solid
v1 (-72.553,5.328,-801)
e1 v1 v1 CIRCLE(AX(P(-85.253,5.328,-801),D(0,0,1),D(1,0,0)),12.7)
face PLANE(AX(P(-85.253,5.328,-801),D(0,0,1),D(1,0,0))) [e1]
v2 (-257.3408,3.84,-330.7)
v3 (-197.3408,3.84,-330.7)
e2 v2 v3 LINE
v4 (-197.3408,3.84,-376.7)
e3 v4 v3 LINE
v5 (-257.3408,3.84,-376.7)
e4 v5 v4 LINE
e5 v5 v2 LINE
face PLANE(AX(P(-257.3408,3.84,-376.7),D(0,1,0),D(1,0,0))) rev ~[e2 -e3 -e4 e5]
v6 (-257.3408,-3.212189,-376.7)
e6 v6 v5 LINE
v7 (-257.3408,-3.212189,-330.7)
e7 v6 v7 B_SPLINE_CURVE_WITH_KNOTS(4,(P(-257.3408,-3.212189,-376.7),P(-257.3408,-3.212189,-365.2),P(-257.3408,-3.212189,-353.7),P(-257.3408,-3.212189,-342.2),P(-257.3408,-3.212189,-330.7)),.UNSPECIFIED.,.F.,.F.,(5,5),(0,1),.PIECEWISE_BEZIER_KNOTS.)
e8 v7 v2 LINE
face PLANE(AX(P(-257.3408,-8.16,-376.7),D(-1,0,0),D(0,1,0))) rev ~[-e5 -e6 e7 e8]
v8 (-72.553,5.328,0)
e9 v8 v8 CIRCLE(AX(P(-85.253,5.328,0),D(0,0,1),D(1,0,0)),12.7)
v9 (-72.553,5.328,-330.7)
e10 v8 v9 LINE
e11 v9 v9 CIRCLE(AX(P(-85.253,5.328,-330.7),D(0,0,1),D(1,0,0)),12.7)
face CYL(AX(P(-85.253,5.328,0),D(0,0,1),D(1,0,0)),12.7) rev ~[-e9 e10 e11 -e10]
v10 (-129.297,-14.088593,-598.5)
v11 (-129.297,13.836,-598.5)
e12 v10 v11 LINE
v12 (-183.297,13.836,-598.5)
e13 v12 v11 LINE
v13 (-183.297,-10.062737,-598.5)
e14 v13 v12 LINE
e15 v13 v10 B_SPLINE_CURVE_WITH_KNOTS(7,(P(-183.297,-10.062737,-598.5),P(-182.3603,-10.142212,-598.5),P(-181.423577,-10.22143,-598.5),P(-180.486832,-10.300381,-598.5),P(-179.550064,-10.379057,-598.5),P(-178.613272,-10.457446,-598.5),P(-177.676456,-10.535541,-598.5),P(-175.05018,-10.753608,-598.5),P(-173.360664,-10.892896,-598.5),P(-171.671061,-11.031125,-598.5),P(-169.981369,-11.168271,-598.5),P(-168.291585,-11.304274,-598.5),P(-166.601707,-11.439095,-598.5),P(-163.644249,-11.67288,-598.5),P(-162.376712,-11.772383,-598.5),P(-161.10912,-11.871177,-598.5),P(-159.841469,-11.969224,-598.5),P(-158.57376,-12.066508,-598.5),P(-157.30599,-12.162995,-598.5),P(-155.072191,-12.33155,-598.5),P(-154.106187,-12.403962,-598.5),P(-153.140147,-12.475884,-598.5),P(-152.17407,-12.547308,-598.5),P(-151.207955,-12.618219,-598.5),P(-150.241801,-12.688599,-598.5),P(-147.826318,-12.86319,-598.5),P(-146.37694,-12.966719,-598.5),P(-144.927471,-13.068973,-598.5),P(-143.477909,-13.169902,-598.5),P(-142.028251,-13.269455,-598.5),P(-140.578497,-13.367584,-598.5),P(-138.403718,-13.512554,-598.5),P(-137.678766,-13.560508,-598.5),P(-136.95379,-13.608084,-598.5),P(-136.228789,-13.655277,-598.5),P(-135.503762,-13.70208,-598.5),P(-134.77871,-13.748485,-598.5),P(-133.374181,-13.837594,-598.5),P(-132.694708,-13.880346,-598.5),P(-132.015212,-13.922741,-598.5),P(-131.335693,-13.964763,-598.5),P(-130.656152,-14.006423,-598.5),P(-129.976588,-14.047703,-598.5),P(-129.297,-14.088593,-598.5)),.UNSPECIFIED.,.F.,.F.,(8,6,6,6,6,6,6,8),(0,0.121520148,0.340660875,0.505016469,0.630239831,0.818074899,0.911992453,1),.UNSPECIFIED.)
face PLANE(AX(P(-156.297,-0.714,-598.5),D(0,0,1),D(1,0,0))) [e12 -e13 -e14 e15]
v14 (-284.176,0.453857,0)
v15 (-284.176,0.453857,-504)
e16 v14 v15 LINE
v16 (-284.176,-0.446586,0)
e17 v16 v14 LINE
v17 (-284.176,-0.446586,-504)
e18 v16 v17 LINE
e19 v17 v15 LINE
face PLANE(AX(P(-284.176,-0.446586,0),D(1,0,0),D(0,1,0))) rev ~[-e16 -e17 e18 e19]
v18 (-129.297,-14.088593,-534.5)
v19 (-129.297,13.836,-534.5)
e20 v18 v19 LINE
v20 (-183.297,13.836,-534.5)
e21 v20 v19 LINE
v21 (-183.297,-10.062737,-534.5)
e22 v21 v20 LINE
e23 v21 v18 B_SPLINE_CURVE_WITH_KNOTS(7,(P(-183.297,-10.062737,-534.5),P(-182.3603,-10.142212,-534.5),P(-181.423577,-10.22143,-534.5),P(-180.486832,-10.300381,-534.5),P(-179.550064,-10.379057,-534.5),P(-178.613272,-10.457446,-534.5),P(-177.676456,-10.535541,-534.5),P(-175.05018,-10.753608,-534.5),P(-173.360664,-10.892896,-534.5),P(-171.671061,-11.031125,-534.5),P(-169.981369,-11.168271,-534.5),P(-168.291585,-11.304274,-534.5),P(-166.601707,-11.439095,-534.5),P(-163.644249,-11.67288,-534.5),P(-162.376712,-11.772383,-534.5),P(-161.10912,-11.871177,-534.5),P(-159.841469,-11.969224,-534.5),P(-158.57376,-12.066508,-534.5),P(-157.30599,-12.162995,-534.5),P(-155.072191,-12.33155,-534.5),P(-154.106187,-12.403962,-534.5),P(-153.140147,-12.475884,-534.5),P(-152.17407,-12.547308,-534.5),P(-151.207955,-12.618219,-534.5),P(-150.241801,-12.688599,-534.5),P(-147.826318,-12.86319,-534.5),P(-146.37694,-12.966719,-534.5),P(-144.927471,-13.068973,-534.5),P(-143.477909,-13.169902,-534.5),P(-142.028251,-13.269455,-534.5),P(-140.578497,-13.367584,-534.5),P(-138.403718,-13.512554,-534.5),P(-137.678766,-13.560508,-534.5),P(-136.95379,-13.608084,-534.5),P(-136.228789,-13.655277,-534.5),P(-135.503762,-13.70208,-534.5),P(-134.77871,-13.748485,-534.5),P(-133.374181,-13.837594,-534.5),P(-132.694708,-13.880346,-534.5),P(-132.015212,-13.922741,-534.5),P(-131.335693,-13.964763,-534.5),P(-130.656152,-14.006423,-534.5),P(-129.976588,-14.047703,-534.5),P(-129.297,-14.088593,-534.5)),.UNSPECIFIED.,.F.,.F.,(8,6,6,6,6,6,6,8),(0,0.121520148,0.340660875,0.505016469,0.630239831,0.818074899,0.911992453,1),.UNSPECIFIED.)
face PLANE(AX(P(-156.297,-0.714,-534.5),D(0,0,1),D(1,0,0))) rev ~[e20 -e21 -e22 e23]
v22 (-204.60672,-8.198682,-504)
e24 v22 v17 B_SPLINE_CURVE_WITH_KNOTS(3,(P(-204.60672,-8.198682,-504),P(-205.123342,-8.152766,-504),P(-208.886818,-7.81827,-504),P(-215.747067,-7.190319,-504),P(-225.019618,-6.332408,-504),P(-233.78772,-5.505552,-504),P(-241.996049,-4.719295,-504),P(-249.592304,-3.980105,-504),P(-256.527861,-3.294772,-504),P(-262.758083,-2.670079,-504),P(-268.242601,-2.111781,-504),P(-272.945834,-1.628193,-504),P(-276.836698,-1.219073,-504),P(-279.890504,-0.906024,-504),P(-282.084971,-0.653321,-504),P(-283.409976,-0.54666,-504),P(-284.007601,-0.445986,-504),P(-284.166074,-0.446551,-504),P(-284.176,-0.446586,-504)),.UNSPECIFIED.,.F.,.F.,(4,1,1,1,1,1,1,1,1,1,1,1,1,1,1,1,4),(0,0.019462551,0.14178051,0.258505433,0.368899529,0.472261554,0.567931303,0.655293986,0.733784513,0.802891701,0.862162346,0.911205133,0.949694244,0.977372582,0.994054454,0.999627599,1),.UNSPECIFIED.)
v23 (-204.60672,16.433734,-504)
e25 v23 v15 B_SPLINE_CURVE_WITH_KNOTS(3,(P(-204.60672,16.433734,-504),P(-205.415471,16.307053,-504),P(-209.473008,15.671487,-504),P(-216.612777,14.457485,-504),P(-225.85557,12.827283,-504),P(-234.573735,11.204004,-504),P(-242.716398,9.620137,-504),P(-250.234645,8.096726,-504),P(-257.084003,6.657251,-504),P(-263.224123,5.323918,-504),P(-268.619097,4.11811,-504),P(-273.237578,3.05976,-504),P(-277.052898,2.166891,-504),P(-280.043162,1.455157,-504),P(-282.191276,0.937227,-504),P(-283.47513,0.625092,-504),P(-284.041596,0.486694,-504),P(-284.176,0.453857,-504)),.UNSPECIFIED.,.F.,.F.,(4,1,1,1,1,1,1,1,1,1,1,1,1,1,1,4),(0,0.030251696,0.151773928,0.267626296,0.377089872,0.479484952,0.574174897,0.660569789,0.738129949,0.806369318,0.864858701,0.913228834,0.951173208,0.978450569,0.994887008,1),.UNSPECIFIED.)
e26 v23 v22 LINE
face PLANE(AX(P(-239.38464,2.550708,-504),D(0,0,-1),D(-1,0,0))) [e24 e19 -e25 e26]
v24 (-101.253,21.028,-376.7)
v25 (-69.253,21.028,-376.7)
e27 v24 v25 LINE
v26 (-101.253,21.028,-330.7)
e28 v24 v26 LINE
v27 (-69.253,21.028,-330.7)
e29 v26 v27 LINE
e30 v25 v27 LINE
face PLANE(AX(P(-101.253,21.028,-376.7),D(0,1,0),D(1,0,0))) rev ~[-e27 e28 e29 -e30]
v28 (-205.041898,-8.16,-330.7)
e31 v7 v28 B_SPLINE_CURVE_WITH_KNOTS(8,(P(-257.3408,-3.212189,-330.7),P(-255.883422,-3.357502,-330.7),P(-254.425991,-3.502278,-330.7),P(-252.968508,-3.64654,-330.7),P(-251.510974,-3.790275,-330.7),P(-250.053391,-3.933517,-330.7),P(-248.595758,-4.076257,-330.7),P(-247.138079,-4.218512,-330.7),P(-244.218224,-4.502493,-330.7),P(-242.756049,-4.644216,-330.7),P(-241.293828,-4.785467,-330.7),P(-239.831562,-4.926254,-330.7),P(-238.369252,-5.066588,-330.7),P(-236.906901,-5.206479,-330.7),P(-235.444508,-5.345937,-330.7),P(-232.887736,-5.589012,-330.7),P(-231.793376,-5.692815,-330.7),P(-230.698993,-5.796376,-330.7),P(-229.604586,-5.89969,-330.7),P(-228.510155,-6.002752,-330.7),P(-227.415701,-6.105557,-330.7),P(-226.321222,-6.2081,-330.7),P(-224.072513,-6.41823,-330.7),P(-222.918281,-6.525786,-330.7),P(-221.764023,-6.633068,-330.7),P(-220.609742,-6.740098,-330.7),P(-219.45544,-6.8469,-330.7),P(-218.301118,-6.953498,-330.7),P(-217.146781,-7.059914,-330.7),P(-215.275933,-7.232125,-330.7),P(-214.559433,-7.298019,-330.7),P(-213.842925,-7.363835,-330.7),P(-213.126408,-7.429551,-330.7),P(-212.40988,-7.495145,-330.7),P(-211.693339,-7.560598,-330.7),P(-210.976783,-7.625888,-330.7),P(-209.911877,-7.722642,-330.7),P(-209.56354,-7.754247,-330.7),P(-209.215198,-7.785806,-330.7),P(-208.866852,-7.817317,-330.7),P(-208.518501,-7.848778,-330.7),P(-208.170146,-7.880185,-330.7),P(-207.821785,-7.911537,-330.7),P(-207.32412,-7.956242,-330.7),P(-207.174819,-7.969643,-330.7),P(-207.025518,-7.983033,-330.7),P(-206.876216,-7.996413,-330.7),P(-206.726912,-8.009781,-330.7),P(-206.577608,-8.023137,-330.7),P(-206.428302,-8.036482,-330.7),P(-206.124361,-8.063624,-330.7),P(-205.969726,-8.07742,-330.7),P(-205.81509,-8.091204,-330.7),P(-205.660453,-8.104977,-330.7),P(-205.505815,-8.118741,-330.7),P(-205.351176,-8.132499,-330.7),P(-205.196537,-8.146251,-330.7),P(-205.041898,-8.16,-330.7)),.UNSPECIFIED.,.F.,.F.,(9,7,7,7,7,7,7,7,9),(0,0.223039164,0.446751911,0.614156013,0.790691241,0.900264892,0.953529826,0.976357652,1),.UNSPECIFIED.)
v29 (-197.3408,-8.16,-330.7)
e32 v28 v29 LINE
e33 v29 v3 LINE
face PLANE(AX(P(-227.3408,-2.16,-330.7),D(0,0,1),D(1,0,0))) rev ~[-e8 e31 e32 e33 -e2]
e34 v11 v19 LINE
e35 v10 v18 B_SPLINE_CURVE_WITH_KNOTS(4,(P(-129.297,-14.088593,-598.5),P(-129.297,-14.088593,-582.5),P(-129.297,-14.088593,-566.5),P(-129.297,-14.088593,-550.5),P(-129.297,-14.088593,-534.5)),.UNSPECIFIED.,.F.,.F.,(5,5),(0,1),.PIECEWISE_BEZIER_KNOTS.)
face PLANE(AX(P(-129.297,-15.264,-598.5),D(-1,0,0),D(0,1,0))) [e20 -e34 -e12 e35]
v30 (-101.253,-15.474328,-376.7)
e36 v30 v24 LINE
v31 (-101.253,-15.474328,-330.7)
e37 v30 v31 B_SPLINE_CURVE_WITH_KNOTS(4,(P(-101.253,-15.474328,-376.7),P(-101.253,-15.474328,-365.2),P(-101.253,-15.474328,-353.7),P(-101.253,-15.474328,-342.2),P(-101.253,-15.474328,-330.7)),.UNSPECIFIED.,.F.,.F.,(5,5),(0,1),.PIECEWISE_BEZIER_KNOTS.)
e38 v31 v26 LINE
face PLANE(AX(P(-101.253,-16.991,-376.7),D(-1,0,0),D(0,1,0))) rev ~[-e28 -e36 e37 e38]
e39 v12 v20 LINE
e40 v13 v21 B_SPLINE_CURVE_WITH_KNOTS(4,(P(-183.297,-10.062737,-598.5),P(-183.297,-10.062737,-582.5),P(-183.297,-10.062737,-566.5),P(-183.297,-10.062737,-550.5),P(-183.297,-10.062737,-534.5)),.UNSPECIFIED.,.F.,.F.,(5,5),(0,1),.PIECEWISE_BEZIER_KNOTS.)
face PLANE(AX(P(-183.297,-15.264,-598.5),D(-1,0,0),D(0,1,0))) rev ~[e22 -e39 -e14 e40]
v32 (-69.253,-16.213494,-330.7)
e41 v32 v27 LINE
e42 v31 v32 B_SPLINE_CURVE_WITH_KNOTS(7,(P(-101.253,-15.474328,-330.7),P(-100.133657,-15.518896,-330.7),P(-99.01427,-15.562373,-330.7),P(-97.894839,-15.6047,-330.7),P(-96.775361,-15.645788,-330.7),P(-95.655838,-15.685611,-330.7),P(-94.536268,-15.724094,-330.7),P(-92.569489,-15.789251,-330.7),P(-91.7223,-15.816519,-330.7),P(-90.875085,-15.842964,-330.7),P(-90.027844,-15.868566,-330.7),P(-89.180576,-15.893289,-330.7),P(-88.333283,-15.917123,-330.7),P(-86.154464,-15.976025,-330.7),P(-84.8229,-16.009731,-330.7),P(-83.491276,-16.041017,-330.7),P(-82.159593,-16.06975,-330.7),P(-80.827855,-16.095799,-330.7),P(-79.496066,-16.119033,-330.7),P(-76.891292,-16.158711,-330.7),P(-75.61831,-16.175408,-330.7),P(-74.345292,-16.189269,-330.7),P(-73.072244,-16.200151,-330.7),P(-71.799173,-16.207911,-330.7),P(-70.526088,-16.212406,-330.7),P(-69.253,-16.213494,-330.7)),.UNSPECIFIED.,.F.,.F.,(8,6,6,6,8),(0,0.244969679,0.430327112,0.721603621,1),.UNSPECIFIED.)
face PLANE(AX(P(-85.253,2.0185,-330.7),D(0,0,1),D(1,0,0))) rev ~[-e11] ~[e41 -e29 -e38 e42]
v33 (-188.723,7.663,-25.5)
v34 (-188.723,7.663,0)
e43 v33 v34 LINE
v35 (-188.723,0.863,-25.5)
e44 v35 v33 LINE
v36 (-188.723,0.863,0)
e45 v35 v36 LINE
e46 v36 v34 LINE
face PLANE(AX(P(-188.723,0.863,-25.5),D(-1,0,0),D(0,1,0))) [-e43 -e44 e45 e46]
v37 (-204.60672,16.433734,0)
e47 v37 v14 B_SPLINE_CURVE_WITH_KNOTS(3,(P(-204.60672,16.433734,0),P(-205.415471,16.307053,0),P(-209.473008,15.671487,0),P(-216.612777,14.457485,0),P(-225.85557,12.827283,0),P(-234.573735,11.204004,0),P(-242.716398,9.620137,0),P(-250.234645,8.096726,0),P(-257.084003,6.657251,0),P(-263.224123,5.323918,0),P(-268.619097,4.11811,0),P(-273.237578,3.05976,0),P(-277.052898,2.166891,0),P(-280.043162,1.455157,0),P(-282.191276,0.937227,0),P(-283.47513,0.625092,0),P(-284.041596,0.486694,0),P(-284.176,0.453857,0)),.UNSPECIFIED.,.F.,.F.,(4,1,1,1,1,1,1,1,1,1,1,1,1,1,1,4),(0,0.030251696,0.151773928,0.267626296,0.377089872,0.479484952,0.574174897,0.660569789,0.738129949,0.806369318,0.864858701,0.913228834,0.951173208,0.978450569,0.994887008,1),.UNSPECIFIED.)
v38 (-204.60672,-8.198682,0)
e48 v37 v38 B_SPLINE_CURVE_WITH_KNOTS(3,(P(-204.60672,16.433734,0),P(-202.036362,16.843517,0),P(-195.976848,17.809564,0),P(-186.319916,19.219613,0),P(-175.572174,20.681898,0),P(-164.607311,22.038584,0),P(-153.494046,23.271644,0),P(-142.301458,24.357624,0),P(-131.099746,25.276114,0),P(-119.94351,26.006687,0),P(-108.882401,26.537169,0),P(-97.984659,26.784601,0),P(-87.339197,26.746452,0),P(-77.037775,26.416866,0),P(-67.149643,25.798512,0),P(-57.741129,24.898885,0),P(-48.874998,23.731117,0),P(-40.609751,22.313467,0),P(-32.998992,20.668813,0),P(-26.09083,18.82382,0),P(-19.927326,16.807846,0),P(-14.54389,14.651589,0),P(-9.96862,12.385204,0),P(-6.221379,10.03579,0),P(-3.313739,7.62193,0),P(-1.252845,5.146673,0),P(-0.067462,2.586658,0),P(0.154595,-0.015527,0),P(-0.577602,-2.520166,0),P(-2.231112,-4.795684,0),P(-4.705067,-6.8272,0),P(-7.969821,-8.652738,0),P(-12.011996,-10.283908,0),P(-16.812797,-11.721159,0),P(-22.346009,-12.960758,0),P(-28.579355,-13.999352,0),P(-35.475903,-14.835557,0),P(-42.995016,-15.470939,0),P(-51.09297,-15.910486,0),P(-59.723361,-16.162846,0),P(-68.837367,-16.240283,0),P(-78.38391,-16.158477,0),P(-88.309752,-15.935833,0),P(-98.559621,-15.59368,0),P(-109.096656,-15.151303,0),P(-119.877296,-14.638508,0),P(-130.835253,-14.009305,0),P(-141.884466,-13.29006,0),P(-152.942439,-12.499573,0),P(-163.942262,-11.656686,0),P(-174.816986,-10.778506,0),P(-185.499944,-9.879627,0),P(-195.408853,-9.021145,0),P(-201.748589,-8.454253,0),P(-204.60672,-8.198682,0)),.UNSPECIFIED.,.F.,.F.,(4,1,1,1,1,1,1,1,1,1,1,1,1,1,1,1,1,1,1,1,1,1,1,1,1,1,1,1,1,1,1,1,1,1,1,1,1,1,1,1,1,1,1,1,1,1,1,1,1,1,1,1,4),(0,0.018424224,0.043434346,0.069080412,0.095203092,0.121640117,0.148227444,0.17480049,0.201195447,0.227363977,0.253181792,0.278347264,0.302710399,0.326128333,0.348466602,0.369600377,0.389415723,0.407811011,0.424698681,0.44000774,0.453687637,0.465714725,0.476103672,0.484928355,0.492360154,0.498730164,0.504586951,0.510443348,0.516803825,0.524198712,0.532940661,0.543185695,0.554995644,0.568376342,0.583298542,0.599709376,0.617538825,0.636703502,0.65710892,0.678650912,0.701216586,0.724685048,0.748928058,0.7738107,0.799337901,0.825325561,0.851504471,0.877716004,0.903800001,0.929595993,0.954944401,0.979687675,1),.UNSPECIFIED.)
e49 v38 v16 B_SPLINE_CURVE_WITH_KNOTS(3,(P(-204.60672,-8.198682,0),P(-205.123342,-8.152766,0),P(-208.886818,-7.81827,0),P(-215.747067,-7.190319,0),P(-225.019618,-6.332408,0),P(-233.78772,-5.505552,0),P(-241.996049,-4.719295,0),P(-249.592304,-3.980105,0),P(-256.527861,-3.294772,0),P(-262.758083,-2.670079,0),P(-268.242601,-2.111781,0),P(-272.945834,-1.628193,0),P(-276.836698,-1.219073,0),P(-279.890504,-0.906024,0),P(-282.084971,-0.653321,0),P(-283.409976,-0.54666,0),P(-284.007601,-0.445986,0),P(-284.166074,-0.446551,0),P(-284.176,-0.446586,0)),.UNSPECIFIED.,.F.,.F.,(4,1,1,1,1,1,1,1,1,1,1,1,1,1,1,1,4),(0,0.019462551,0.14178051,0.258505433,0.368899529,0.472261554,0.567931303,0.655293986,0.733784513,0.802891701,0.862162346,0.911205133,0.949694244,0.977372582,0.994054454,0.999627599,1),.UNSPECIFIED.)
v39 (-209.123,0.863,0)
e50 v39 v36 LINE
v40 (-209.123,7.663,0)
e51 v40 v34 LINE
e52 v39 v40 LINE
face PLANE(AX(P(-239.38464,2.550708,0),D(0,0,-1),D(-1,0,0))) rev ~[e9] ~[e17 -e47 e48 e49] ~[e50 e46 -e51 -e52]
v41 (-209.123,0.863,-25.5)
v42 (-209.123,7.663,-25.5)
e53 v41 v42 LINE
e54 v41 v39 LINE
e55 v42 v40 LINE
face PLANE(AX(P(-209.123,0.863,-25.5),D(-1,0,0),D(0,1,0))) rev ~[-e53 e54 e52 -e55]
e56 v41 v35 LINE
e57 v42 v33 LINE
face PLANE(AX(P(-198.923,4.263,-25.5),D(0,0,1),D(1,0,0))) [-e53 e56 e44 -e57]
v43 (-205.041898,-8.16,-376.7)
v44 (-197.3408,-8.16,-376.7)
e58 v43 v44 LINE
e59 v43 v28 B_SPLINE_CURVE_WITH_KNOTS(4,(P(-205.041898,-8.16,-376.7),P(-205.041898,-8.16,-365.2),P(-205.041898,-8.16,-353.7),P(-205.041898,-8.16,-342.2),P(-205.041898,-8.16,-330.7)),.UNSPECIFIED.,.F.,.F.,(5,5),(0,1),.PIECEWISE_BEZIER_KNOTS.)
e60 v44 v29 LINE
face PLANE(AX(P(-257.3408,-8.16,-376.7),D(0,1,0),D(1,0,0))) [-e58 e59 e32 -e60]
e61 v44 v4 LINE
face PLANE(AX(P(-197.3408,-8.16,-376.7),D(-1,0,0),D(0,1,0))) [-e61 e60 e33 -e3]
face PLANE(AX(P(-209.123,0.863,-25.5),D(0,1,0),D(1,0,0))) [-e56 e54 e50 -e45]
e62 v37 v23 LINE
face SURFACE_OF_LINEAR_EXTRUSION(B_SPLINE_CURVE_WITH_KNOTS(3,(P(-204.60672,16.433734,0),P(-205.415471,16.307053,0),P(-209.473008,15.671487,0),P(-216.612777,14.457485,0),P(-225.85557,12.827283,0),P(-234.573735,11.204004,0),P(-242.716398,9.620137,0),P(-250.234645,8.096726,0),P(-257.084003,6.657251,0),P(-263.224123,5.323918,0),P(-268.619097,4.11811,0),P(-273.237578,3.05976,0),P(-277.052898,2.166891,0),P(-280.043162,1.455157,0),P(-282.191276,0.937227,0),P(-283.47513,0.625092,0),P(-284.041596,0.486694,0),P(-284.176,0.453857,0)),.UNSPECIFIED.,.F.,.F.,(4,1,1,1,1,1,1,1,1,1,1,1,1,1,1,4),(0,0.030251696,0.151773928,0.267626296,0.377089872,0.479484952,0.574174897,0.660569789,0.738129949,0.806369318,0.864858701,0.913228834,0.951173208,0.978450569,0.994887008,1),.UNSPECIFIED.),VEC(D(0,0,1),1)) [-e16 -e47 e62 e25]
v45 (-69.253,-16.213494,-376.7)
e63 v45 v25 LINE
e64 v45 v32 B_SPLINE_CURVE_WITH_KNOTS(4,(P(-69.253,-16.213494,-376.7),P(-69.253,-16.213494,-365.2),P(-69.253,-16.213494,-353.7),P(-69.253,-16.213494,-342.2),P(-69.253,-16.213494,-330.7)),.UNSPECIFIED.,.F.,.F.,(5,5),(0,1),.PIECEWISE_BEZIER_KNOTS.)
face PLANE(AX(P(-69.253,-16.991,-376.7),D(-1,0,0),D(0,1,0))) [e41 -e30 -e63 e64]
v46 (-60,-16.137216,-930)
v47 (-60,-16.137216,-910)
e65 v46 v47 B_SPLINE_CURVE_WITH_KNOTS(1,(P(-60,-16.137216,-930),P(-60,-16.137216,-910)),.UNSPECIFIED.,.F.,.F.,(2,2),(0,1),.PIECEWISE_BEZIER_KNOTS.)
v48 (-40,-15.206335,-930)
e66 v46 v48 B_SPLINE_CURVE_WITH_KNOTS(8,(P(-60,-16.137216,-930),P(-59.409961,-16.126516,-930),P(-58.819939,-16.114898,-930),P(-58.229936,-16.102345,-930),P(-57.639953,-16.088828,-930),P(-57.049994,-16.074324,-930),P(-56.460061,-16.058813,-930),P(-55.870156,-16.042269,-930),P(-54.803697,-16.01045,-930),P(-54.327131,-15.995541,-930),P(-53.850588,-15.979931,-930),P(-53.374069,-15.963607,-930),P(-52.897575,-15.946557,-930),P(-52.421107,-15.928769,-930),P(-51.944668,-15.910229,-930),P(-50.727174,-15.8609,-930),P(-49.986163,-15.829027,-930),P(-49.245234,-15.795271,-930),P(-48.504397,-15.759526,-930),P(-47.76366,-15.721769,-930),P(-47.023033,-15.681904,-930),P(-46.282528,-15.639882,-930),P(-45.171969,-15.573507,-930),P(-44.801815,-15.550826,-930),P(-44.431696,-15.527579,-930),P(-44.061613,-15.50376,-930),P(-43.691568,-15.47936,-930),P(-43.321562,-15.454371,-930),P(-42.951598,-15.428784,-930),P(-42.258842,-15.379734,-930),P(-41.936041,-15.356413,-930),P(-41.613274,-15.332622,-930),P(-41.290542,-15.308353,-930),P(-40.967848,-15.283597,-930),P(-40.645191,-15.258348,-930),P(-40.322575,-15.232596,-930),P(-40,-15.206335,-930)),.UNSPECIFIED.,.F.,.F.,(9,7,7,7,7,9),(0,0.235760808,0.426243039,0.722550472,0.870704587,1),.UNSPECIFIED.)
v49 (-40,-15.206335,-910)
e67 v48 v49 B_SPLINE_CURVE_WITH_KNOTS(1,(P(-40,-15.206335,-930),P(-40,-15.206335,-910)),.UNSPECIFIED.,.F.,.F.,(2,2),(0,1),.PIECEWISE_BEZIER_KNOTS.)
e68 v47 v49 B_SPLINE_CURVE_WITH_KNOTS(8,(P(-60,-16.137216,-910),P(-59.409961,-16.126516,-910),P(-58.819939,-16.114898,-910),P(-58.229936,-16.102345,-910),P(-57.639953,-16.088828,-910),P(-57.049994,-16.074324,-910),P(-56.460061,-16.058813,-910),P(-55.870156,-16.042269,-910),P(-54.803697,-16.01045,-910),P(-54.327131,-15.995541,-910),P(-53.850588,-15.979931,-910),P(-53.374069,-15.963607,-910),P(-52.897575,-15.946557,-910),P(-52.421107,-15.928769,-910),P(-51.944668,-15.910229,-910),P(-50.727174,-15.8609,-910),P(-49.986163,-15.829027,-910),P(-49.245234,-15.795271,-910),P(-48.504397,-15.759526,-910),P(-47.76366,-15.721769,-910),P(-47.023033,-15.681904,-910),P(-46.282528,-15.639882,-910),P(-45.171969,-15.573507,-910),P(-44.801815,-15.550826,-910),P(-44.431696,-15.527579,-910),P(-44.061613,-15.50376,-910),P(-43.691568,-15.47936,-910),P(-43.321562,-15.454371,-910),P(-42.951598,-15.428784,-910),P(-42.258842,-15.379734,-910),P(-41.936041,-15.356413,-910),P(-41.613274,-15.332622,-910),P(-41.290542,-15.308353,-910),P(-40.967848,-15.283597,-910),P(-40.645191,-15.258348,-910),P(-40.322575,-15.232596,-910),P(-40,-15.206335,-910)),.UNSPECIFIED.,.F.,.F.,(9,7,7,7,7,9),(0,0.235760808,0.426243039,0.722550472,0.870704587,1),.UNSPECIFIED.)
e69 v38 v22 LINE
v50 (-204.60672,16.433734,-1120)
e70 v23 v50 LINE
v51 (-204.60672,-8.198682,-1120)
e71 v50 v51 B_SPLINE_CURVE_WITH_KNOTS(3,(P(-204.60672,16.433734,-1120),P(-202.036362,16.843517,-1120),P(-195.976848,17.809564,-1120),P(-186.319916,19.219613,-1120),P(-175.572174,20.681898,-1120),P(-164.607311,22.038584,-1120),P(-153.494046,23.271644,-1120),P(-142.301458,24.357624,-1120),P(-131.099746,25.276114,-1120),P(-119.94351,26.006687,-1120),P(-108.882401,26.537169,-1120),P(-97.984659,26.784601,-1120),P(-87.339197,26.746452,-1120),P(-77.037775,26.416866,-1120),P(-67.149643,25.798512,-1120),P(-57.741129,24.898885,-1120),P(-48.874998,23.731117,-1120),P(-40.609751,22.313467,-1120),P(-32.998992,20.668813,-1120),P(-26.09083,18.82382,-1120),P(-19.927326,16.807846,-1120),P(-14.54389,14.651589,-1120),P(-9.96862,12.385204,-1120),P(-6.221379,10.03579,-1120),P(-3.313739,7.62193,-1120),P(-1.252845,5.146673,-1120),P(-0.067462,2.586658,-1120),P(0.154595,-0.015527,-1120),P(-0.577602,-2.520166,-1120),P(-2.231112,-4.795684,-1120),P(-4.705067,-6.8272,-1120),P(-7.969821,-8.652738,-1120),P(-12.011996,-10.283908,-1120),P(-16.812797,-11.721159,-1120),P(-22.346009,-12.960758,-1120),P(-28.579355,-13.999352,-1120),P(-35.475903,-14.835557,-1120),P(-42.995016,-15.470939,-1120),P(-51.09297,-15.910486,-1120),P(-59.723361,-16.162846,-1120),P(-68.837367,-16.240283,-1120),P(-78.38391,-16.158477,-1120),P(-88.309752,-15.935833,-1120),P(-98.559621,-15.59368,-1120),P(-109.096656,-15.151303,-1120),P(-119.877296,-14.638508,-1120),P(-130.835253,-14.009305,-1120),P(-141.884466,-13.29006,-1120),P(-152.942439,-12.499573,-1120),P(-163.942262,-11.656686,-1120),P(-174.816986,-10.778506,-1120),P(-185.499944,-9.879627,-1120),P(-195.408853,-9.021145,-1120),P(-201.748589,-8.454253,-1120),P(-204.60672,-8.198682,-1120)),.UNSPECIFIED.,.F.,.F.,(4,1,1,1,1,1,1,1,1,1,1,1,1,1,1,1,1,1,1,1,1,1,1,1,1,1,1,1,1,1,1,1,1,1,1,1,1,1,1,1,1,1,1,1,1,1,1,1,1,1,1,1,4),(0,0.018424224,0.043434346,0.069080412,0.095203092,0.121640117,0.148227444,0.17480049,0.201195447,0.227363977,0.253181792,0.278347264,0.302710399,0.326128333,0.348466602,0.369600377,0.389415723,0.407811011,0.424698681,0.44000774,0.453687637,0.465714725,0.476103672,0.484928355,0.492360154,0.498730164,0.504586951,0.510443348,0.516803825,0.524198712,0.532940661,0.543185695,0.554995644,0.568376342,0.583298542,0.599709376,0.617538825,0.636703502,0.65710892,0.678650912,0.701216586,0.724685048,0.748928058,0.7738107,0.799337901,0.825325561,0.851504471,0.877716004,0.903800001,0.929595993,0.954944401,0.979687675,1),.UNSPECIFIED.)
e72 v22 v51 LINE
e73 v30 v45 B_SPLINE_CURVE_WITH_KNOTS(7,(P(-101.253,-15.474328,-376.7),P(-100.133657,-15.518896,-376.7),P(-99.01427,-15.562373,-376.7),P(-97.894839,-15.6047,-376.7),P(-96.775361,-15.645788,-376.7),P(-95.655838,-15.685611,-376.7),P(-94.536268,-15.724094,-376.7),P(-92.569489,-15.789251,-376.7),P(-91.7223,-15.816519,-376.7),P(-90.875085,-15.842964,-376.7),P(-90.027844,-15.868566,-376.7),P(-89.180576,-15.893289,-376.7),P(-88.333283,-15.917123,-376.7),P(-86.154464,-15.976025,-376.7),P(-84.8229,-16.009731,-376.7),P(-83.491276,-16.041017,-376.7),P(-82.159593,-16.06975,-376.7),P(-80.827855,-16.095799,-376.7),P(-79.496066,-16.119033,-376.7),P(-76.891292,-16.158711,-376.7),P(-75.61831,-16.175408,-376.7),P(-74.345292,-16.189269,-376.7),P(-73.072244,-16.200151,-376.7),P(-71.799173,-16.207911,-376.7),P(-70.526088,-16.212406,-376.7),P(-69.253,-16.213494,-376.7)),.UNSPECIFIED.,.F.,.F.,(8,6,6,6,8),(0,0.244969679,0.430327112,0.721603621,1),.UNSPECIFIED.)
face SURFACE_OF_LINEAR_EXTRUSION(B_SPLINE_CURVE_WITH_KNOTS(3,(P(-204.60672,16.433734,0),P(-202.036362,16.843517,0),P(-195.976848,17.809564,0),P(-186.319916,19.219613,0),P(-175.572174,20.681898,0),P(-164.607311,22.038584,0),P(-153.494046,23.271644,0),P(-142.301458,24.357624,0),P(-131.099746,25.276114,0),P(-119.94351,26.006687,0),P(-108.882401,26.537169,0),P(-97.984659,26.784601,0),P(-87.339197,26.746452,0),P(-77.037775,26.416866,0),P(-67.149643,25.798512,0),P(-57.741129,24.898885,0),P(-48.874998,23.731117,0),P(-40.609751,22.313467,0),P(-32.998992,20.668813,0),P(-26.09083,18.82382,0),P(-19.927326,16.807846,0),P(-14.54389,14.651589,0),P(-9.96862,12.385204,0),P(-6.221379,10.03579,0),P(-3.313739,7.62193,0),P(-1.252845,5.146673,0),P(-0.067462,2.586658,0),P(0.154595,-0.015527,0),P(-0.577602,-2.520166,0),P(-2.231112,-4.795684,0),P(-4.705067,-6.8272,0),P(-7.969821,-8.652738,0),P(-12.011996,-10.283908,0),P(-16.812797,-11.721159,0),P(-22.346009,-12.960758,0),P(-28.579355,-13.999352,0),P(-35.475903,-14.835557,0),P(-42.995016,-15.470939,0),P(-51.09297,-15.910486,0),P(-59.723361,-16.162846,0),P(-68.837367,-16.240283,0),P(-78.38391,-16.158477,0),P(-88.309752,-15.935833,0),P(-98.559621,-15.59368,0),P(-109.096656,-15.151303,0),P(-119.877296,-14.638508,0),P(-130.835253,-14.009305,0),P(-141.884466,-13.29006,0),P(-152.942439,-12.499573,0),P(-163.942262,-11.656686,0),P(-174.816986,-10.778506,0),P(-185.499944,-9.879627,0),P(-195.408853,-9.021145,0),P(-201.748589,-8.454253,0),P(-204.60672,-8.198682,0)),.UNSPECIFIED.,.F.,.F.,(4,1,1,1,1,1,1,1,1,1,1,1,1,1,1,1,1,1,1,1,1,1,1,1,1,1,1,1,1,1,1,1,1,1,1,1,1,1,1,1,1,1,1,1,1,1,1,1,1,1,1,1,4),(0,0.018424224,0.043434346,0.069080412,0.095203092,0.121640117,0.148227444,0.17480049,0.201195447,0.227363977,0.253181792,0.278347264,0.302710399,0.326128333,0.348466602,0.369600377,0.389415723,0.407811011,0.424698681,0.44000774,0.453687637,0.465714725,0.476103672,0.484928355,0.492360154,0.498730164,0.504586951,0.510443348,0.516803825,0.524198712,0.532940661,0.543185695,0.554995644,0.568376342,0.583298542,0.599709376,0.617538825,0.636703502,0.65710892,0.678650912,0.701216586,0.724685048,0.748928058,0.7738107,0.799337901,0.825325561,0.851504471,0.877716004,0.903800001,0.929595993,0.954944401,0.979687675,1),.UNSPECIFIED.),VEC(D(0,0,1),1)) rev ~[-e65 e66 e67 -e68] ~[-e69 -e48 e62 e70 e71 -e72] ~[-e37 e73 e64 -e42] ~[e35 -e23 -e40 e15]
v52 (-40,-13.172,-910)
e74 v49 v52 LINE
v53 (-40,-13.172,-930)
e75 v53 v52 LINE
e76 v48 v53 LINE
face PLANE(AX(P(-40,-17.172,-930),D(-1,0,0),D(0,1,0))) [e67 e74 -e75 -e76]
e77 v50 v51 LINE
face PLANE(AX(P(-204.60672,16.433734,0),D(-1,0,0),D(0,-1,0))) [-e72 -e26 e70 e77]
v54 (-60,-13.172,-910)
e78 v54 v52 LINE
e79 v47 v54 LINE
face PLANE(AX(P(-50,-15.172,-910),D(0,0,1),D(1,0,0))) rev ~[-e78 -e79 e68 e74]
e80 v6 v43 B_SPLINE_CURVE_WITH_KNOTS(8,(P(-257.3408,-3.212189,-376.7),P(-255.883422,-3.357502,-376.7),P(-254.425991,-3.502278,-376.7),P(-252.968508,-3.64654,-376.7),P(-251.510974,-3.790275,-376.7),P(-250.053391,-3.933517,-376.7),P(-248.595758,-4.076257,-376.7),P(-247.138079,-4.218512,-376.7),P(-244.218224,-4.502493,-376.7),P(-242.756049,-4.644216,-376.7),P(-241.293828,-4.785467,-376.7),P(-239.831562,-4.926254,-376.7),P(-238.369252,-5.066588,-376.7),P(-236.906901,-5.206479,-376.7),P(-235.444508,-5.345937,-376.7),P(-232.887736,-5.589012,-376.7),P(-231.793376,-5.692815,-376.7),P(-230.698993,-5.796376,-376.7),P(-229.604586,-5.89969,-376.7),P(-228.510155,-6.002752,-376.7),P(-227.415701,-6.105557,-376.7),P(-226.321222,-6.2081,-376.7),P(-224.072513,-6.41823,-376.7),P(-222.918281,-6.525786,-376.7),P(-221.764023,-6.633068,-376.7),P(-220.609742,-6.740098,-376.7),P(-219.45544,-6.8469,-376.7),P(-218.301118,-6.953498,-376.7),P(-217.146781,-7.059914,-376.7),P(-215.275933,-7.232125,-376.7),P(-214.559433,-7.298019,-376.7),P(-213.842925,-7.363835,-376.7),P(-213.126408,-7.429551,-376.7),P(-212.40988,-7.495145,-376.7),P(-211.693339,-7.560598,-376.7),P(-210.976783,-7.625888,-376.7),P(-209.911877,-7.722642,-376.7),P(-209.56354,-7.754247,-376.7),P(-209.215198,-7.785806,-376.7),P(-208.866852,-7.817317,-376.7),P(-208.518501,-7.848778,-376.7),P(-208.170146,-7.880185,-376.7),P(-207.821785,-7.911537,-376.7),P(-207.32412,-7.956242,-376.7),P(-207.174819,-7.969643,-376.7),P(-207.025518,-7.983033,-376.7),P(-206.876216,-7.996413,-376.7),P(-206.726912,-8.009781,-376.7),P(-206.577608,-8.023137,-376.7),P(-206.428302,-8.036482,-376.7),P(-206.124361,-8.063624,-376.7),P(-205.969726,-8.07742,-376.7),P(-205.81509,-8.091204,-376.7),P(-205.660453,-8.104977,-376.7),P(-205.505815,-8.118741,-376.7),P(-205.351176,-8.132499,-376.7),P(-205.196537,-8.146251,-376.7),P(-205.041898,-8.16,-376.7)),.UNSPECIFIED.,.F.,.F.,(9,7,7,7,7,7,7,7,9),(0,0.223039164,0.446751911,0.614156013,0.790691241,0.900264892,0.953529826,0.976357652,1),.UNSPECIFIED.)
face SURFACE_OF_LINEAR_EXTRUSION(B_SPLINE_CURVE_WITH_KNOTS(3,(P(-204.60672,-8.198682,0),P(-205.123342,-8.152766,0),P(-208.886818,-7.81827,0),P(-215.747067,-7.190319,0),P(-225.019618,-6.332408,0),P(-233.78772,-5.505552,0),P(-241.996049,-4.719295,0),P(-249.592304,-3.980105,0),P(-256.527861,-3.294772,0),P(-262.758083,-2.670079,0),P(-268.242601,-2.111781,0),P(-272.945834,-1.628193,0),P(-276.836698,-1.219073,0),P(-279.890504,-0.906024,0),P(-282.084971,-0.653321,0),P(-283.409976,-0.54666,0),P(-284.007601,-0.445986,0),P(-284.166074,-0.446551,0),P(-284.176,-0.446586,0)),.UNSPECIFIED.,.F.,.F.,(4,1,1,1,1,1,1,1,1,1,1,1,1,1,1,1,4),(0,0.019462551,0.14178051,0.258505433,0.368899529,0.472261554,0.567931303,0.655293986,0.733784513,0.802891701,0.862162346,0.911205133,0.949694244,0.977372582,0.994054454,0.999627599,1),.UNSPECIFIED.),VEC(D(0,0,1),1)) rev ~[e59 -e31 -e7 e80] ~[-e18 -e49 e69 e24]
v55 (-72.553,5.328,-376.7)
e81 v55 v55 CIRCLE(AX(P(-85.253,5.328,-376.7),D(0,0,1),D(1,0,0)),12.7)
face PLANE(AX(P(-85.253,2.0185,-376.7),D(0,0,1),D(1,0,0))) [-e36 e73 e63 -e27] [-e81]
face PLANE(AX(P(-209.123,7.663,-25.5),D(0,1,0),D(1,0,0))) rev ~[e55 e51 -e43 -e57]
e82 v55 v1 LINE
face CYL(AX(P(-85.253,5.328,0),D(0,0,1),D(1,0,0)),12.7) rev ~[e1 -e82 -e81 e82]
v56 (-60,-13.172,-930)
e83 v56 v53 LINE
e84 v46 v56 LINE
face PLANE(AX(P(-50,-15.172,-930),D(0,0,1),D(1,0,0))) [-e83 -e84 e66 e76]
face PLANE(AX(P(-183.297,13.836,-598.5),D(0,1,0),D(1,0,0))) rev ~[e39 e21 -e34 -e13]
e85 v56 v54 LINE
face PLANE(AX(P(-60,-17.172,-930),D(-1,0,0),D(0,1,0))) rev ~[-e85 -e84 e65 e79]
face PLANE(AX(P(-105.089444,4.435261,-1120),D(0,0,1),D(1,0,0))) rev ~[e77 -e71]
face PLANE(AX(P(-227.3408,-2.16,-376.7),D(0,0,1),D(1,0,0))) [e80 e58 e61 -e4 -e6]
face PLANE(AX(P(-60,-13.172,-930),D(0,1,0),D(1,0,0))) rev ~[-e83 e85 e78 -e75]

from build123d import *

# Parameters (mm, degrees)
BOSS_EXTRUDE1_DEPTH = 1120
BOSS_EXTRUDE2_DEPTH = 504
SKETCH3_R           = 12.7
CUT_EXTRUDE1_DEPTH  = 801
SKETCH4_W           = 32
SKETCH4_H           = 38.019
CUT_EXTRUDE2_DEPTH  = 46
SKETCH5_W           = 60
SKETCH5_H           = 12
CUT_EXTRUDE3_DEPTH  = 46
SKETCH6_W           = 54
SKETCH6_H           = 29.1
CUT_EXTRUDE4_DEPTH  = 64
SKETCH7_W           = 20.4
SKETCH7_H           = 6.8
CUT_EXTRUDE5_DEPTH  = 26
SKETCH8_W           = 20
SKETCH8_H           = 4
CUT_EXTRUDE6_DEPTH  = 20


with BuildPart() as part:
    # Sketch1 → Boss-Extrude1 (new body)
    with BuildSketch(Plane.XY):
        with BuildLine():
            Line((-204.60672, 16.43373442), (-204.60672, -8.19868247))
            add(Edge.make_bspline(
                [(-204.60672, 16.43373442), (-202.036361523, 16.843517491), (-195.976847624, 17.809564148), (-186.31991623, 19.219612694), (-175.572173627, 20.681898456), (-164.607311335, 22.038583826), (-153.49404645, 23.271644216), (-142.301458132, 24.357624452), (-131.099746315, 25.27611377), (-119.943510485, 26.006687445), (-108.882401137, 26.537168758), (-97.984658952, 26.784601367), (-87.339197239, 26.746452246), (-77.037775283, 26.416865966), (-67.149643376, 25.798512435), (-57.741129063, 24.898884792), (-48.874997943, 23.731117117), (-40.609751299, 22.313467309), (-32.99899187, 20.668813467), (-26.09083036, 18.823819721), (-19.927325542, 16.807846118), (-14.543890216, 14.651588692), (-9.968619512, 12.385203852), (-6.221379001, 10.035790246), (-3.313738727, 7.621930176), (-1.252844721, 5.146672973), (-0.067461683, 2.586657871), (0.154594698, -0.015527038), (-0.577602024, -2.520166193), (-2.23111232, -4.795683741), (-4.705066866, -6.827199984), (-7.969820634, -8.652738302), (-12.011996138, -10.283908092), (-16.812796605, -11.721159399), (-22.346009478, -12.960758117), (-28.579355048, -13.999351597), (-35.475903212, -14.835557319), (-42.995015776, -15.470938778), (-51.09296977, -15.910485811), (-59.723361484, -16.162845606), (-68.837366971, -16.240282897), (-78.383909857, -16.158476575), (-88.309752455, -15.935832899), (-98.559621371, -15.593680374), (-109.096656126, -15.151303304), (-119.877295693, -14.638508478), (-130.835253322, -14.00930548), (-141.884466391, -13.29005991), (-152.942439018, -12.499573468), (-163.942262105, -11.656685653), (-174.816986108, -10.778505542), (-185.49994365, -9.879627403), (-195.408852603, -9.021145417), (-201.74858929, -8.4542533), (-204.60672, -8.19868247)],
                knots=[0, 0, 0, 0, 0.018424224, 0.043434346, 0.069080412, 0.095203092, 0.121640117, 0.148227444, 0.17480049, 0.201195447, 0.227363977, 0.253181792, 0.278347264, 0.302710399, 0.326128333, 0.348466602, 0.369600377, 0.389415723, 0.407811011, 0.424698681, 0.44000774, 0.453687637, 0.465714725, 0.476103672, 0.484928355, 0.492360154, 0.498730164, 0.504586951, 0.510443348, 0.516803825, 0.524198712, 0.532940661, 0.543185695, 0.554995644, 0.568376342, 0.583298542, 0.599709376, 0.617538825, 0.636703502, 0.65710892, 0.678650912, 0.701216586, 0.724685048, 0.748928058, 0.7738107, 0.799337901, 0.825325561, 0.851504471, 0.877716004, 0.903800001, 0.929595993, 0.954944401, 0.979687675, 1, 1, 1, 1], degree=3))
        make_face()
    extrude(amount=-BOSS_EXTRUDE1_DEPTH)

    # Sketch2 → Boss-Extrude2 (add)
    with BuildSketch(Plane.XY):
        with BuildLine():
            Line((-204.60672, 16.43373442), (-204.60672, -8.19868247))
            add(Edge.make_bspline(
                [(-204.60672, -8.19868247), (-205.123341506, -8.152765503), (-208.886818398, -7.818270242), (-215.747067479, -7.19031909), (-225.019618317, -6.332407693), (-233.78771967, -5.505552256), (-241.996048886, -4.719294865), (-249.592303574, -3.980104608), (-256.527861477, -3.294772313), (-262.75808282, -2.6700791), (-268.242600782, -2.111780911), (-272.945834404, -1.62819317), (-276.836698489, -1.219072845), (-279.890503934, -0.906023665), (-282.084971372, -0.653321358), (-283.409976301, -0.546659805), (-284.007600869, -0.445986487), (-284.166073983, -0.446550556), (-284.176, -0.446585887)],
                knots=[0, 0, 0, 0, 0.019462551, 0.14178051, 0.258505433, 0.368899529, 0.472261554, 0.567931303, 0.655293986, 0.733784513, 0.802891701, 0.862162346, 0.911205133, 0.949694244, 0.977372582, 0.994054454, 0.999627599, 1, 1, 1, 1], degree=3))
            Line((-284.176, -0.446585887), (-284.176, 0.453857008))
            add(Edge.make_bspline(
                [(-204.60672, 16.43373442), (-205.415471282, 16.307052878), (-209.473007674, 15.671486692), (-216.612776575, 14.457484774), (-225.855570238, 12.827283141), (-234.573734516, 11.204003783), (-242.71639827, 9.620137001), (-250.234645079, 8.09672624), (-257.084002847, 6.657250954), (-263.224123157, 5.323917782), (-268.619097463, 4.118109632), (-273.237578469, 3.059759971), (-277.052897898, 2.166891113), (-280.043162129, 1.455156879), (-282.19127614, 0.937226778), (-283.475130043, 0.62509225), (-284.041595768, 0.4866944), (-284.176, 0.453857008)],
                knots=[0, 0, 0, 0, 0.030251696, 0.151773928, 0.267626296, 0.377089872, 0.479484952, 0.574174897, 0.660569789, 0.738129949, 0.806369318, 0.864858701, 0.913228834, 0.951173208, 0.978450569, 0.994887008, 1, 1, 1, 1], degree=3))
        make_face()
    extrude(amount=-BOSS_EXTRUDE2_DEPTH)

    # Sketch3 → Cut-Extrude1 (cut)
    with BuildSketch(Plane.XY):
        with Locations((-85.253, 5.328)):
            Circle(SKETCH3_R)
    extrude(amount=-CUT_EXTRUDE1_DEPTH, mode=Mode.SUBTRACT)

    # Sketch4 → Cut-Extrude2 (cut)
    with BuildSketch(Plane.XY.offset(-376.7)):
        with Locations((-85.253, 2.0185)):
            Rectangle(SKETCH4_W, SKETCH4_H)
    extrude(amount=CUT_EXTRUDE2_DEPTH, mode=Mode.SUBTRACT)

    # Sketch5 → Cut-Extrude3 (cut)
    with BuildSketch(Plane.XY.offset(-376.7)):
        with Locations((-227.3408, -2.16)):
            Rectangle(SKETCH5_W, SKETCH5_H)
    extrude(amount=CUT_EXTRUDE3_DEPTH, mode=Mode.SUBTRACT)

    # Sketch6 → Cut-Extrude4 (cut)
    with BuildSketch(Plane.XY.offset(-598.5)):
        with Locations((-156.297, -0.714)):
            Rectangle(SKETCH6_W, SKETCH6_H)
    extrude(amount=CUT_EXTRUDE4_DEPTH, mode=Mode.SUBTRACT)

    # Sketch7 → Cut-Extrude5 (cut)
    with BuildSketch(Plane.XY.offset(-25.5)):
        with Locations((-198.923, 4.263)):
            Rectangle(SKETCH7_W, SKETCH7_H)
    extrude(amount=CUT_EXTRUDE5_DEPTH, mode=Mode.SUBTRACT)

    # Sketch8 → Cut-Extrude6 (cut)
    with BuildSketch(Plane.XY.offset(-930)):
        with Locations((-50, -15.172)):
            Rectangle(SKETCH8_W, SKETCH8_H)
    extrude(amount=CUT_EXTRUDE6_DEPTH, mode=Mode.SUBTRACT)


solid = part.part
